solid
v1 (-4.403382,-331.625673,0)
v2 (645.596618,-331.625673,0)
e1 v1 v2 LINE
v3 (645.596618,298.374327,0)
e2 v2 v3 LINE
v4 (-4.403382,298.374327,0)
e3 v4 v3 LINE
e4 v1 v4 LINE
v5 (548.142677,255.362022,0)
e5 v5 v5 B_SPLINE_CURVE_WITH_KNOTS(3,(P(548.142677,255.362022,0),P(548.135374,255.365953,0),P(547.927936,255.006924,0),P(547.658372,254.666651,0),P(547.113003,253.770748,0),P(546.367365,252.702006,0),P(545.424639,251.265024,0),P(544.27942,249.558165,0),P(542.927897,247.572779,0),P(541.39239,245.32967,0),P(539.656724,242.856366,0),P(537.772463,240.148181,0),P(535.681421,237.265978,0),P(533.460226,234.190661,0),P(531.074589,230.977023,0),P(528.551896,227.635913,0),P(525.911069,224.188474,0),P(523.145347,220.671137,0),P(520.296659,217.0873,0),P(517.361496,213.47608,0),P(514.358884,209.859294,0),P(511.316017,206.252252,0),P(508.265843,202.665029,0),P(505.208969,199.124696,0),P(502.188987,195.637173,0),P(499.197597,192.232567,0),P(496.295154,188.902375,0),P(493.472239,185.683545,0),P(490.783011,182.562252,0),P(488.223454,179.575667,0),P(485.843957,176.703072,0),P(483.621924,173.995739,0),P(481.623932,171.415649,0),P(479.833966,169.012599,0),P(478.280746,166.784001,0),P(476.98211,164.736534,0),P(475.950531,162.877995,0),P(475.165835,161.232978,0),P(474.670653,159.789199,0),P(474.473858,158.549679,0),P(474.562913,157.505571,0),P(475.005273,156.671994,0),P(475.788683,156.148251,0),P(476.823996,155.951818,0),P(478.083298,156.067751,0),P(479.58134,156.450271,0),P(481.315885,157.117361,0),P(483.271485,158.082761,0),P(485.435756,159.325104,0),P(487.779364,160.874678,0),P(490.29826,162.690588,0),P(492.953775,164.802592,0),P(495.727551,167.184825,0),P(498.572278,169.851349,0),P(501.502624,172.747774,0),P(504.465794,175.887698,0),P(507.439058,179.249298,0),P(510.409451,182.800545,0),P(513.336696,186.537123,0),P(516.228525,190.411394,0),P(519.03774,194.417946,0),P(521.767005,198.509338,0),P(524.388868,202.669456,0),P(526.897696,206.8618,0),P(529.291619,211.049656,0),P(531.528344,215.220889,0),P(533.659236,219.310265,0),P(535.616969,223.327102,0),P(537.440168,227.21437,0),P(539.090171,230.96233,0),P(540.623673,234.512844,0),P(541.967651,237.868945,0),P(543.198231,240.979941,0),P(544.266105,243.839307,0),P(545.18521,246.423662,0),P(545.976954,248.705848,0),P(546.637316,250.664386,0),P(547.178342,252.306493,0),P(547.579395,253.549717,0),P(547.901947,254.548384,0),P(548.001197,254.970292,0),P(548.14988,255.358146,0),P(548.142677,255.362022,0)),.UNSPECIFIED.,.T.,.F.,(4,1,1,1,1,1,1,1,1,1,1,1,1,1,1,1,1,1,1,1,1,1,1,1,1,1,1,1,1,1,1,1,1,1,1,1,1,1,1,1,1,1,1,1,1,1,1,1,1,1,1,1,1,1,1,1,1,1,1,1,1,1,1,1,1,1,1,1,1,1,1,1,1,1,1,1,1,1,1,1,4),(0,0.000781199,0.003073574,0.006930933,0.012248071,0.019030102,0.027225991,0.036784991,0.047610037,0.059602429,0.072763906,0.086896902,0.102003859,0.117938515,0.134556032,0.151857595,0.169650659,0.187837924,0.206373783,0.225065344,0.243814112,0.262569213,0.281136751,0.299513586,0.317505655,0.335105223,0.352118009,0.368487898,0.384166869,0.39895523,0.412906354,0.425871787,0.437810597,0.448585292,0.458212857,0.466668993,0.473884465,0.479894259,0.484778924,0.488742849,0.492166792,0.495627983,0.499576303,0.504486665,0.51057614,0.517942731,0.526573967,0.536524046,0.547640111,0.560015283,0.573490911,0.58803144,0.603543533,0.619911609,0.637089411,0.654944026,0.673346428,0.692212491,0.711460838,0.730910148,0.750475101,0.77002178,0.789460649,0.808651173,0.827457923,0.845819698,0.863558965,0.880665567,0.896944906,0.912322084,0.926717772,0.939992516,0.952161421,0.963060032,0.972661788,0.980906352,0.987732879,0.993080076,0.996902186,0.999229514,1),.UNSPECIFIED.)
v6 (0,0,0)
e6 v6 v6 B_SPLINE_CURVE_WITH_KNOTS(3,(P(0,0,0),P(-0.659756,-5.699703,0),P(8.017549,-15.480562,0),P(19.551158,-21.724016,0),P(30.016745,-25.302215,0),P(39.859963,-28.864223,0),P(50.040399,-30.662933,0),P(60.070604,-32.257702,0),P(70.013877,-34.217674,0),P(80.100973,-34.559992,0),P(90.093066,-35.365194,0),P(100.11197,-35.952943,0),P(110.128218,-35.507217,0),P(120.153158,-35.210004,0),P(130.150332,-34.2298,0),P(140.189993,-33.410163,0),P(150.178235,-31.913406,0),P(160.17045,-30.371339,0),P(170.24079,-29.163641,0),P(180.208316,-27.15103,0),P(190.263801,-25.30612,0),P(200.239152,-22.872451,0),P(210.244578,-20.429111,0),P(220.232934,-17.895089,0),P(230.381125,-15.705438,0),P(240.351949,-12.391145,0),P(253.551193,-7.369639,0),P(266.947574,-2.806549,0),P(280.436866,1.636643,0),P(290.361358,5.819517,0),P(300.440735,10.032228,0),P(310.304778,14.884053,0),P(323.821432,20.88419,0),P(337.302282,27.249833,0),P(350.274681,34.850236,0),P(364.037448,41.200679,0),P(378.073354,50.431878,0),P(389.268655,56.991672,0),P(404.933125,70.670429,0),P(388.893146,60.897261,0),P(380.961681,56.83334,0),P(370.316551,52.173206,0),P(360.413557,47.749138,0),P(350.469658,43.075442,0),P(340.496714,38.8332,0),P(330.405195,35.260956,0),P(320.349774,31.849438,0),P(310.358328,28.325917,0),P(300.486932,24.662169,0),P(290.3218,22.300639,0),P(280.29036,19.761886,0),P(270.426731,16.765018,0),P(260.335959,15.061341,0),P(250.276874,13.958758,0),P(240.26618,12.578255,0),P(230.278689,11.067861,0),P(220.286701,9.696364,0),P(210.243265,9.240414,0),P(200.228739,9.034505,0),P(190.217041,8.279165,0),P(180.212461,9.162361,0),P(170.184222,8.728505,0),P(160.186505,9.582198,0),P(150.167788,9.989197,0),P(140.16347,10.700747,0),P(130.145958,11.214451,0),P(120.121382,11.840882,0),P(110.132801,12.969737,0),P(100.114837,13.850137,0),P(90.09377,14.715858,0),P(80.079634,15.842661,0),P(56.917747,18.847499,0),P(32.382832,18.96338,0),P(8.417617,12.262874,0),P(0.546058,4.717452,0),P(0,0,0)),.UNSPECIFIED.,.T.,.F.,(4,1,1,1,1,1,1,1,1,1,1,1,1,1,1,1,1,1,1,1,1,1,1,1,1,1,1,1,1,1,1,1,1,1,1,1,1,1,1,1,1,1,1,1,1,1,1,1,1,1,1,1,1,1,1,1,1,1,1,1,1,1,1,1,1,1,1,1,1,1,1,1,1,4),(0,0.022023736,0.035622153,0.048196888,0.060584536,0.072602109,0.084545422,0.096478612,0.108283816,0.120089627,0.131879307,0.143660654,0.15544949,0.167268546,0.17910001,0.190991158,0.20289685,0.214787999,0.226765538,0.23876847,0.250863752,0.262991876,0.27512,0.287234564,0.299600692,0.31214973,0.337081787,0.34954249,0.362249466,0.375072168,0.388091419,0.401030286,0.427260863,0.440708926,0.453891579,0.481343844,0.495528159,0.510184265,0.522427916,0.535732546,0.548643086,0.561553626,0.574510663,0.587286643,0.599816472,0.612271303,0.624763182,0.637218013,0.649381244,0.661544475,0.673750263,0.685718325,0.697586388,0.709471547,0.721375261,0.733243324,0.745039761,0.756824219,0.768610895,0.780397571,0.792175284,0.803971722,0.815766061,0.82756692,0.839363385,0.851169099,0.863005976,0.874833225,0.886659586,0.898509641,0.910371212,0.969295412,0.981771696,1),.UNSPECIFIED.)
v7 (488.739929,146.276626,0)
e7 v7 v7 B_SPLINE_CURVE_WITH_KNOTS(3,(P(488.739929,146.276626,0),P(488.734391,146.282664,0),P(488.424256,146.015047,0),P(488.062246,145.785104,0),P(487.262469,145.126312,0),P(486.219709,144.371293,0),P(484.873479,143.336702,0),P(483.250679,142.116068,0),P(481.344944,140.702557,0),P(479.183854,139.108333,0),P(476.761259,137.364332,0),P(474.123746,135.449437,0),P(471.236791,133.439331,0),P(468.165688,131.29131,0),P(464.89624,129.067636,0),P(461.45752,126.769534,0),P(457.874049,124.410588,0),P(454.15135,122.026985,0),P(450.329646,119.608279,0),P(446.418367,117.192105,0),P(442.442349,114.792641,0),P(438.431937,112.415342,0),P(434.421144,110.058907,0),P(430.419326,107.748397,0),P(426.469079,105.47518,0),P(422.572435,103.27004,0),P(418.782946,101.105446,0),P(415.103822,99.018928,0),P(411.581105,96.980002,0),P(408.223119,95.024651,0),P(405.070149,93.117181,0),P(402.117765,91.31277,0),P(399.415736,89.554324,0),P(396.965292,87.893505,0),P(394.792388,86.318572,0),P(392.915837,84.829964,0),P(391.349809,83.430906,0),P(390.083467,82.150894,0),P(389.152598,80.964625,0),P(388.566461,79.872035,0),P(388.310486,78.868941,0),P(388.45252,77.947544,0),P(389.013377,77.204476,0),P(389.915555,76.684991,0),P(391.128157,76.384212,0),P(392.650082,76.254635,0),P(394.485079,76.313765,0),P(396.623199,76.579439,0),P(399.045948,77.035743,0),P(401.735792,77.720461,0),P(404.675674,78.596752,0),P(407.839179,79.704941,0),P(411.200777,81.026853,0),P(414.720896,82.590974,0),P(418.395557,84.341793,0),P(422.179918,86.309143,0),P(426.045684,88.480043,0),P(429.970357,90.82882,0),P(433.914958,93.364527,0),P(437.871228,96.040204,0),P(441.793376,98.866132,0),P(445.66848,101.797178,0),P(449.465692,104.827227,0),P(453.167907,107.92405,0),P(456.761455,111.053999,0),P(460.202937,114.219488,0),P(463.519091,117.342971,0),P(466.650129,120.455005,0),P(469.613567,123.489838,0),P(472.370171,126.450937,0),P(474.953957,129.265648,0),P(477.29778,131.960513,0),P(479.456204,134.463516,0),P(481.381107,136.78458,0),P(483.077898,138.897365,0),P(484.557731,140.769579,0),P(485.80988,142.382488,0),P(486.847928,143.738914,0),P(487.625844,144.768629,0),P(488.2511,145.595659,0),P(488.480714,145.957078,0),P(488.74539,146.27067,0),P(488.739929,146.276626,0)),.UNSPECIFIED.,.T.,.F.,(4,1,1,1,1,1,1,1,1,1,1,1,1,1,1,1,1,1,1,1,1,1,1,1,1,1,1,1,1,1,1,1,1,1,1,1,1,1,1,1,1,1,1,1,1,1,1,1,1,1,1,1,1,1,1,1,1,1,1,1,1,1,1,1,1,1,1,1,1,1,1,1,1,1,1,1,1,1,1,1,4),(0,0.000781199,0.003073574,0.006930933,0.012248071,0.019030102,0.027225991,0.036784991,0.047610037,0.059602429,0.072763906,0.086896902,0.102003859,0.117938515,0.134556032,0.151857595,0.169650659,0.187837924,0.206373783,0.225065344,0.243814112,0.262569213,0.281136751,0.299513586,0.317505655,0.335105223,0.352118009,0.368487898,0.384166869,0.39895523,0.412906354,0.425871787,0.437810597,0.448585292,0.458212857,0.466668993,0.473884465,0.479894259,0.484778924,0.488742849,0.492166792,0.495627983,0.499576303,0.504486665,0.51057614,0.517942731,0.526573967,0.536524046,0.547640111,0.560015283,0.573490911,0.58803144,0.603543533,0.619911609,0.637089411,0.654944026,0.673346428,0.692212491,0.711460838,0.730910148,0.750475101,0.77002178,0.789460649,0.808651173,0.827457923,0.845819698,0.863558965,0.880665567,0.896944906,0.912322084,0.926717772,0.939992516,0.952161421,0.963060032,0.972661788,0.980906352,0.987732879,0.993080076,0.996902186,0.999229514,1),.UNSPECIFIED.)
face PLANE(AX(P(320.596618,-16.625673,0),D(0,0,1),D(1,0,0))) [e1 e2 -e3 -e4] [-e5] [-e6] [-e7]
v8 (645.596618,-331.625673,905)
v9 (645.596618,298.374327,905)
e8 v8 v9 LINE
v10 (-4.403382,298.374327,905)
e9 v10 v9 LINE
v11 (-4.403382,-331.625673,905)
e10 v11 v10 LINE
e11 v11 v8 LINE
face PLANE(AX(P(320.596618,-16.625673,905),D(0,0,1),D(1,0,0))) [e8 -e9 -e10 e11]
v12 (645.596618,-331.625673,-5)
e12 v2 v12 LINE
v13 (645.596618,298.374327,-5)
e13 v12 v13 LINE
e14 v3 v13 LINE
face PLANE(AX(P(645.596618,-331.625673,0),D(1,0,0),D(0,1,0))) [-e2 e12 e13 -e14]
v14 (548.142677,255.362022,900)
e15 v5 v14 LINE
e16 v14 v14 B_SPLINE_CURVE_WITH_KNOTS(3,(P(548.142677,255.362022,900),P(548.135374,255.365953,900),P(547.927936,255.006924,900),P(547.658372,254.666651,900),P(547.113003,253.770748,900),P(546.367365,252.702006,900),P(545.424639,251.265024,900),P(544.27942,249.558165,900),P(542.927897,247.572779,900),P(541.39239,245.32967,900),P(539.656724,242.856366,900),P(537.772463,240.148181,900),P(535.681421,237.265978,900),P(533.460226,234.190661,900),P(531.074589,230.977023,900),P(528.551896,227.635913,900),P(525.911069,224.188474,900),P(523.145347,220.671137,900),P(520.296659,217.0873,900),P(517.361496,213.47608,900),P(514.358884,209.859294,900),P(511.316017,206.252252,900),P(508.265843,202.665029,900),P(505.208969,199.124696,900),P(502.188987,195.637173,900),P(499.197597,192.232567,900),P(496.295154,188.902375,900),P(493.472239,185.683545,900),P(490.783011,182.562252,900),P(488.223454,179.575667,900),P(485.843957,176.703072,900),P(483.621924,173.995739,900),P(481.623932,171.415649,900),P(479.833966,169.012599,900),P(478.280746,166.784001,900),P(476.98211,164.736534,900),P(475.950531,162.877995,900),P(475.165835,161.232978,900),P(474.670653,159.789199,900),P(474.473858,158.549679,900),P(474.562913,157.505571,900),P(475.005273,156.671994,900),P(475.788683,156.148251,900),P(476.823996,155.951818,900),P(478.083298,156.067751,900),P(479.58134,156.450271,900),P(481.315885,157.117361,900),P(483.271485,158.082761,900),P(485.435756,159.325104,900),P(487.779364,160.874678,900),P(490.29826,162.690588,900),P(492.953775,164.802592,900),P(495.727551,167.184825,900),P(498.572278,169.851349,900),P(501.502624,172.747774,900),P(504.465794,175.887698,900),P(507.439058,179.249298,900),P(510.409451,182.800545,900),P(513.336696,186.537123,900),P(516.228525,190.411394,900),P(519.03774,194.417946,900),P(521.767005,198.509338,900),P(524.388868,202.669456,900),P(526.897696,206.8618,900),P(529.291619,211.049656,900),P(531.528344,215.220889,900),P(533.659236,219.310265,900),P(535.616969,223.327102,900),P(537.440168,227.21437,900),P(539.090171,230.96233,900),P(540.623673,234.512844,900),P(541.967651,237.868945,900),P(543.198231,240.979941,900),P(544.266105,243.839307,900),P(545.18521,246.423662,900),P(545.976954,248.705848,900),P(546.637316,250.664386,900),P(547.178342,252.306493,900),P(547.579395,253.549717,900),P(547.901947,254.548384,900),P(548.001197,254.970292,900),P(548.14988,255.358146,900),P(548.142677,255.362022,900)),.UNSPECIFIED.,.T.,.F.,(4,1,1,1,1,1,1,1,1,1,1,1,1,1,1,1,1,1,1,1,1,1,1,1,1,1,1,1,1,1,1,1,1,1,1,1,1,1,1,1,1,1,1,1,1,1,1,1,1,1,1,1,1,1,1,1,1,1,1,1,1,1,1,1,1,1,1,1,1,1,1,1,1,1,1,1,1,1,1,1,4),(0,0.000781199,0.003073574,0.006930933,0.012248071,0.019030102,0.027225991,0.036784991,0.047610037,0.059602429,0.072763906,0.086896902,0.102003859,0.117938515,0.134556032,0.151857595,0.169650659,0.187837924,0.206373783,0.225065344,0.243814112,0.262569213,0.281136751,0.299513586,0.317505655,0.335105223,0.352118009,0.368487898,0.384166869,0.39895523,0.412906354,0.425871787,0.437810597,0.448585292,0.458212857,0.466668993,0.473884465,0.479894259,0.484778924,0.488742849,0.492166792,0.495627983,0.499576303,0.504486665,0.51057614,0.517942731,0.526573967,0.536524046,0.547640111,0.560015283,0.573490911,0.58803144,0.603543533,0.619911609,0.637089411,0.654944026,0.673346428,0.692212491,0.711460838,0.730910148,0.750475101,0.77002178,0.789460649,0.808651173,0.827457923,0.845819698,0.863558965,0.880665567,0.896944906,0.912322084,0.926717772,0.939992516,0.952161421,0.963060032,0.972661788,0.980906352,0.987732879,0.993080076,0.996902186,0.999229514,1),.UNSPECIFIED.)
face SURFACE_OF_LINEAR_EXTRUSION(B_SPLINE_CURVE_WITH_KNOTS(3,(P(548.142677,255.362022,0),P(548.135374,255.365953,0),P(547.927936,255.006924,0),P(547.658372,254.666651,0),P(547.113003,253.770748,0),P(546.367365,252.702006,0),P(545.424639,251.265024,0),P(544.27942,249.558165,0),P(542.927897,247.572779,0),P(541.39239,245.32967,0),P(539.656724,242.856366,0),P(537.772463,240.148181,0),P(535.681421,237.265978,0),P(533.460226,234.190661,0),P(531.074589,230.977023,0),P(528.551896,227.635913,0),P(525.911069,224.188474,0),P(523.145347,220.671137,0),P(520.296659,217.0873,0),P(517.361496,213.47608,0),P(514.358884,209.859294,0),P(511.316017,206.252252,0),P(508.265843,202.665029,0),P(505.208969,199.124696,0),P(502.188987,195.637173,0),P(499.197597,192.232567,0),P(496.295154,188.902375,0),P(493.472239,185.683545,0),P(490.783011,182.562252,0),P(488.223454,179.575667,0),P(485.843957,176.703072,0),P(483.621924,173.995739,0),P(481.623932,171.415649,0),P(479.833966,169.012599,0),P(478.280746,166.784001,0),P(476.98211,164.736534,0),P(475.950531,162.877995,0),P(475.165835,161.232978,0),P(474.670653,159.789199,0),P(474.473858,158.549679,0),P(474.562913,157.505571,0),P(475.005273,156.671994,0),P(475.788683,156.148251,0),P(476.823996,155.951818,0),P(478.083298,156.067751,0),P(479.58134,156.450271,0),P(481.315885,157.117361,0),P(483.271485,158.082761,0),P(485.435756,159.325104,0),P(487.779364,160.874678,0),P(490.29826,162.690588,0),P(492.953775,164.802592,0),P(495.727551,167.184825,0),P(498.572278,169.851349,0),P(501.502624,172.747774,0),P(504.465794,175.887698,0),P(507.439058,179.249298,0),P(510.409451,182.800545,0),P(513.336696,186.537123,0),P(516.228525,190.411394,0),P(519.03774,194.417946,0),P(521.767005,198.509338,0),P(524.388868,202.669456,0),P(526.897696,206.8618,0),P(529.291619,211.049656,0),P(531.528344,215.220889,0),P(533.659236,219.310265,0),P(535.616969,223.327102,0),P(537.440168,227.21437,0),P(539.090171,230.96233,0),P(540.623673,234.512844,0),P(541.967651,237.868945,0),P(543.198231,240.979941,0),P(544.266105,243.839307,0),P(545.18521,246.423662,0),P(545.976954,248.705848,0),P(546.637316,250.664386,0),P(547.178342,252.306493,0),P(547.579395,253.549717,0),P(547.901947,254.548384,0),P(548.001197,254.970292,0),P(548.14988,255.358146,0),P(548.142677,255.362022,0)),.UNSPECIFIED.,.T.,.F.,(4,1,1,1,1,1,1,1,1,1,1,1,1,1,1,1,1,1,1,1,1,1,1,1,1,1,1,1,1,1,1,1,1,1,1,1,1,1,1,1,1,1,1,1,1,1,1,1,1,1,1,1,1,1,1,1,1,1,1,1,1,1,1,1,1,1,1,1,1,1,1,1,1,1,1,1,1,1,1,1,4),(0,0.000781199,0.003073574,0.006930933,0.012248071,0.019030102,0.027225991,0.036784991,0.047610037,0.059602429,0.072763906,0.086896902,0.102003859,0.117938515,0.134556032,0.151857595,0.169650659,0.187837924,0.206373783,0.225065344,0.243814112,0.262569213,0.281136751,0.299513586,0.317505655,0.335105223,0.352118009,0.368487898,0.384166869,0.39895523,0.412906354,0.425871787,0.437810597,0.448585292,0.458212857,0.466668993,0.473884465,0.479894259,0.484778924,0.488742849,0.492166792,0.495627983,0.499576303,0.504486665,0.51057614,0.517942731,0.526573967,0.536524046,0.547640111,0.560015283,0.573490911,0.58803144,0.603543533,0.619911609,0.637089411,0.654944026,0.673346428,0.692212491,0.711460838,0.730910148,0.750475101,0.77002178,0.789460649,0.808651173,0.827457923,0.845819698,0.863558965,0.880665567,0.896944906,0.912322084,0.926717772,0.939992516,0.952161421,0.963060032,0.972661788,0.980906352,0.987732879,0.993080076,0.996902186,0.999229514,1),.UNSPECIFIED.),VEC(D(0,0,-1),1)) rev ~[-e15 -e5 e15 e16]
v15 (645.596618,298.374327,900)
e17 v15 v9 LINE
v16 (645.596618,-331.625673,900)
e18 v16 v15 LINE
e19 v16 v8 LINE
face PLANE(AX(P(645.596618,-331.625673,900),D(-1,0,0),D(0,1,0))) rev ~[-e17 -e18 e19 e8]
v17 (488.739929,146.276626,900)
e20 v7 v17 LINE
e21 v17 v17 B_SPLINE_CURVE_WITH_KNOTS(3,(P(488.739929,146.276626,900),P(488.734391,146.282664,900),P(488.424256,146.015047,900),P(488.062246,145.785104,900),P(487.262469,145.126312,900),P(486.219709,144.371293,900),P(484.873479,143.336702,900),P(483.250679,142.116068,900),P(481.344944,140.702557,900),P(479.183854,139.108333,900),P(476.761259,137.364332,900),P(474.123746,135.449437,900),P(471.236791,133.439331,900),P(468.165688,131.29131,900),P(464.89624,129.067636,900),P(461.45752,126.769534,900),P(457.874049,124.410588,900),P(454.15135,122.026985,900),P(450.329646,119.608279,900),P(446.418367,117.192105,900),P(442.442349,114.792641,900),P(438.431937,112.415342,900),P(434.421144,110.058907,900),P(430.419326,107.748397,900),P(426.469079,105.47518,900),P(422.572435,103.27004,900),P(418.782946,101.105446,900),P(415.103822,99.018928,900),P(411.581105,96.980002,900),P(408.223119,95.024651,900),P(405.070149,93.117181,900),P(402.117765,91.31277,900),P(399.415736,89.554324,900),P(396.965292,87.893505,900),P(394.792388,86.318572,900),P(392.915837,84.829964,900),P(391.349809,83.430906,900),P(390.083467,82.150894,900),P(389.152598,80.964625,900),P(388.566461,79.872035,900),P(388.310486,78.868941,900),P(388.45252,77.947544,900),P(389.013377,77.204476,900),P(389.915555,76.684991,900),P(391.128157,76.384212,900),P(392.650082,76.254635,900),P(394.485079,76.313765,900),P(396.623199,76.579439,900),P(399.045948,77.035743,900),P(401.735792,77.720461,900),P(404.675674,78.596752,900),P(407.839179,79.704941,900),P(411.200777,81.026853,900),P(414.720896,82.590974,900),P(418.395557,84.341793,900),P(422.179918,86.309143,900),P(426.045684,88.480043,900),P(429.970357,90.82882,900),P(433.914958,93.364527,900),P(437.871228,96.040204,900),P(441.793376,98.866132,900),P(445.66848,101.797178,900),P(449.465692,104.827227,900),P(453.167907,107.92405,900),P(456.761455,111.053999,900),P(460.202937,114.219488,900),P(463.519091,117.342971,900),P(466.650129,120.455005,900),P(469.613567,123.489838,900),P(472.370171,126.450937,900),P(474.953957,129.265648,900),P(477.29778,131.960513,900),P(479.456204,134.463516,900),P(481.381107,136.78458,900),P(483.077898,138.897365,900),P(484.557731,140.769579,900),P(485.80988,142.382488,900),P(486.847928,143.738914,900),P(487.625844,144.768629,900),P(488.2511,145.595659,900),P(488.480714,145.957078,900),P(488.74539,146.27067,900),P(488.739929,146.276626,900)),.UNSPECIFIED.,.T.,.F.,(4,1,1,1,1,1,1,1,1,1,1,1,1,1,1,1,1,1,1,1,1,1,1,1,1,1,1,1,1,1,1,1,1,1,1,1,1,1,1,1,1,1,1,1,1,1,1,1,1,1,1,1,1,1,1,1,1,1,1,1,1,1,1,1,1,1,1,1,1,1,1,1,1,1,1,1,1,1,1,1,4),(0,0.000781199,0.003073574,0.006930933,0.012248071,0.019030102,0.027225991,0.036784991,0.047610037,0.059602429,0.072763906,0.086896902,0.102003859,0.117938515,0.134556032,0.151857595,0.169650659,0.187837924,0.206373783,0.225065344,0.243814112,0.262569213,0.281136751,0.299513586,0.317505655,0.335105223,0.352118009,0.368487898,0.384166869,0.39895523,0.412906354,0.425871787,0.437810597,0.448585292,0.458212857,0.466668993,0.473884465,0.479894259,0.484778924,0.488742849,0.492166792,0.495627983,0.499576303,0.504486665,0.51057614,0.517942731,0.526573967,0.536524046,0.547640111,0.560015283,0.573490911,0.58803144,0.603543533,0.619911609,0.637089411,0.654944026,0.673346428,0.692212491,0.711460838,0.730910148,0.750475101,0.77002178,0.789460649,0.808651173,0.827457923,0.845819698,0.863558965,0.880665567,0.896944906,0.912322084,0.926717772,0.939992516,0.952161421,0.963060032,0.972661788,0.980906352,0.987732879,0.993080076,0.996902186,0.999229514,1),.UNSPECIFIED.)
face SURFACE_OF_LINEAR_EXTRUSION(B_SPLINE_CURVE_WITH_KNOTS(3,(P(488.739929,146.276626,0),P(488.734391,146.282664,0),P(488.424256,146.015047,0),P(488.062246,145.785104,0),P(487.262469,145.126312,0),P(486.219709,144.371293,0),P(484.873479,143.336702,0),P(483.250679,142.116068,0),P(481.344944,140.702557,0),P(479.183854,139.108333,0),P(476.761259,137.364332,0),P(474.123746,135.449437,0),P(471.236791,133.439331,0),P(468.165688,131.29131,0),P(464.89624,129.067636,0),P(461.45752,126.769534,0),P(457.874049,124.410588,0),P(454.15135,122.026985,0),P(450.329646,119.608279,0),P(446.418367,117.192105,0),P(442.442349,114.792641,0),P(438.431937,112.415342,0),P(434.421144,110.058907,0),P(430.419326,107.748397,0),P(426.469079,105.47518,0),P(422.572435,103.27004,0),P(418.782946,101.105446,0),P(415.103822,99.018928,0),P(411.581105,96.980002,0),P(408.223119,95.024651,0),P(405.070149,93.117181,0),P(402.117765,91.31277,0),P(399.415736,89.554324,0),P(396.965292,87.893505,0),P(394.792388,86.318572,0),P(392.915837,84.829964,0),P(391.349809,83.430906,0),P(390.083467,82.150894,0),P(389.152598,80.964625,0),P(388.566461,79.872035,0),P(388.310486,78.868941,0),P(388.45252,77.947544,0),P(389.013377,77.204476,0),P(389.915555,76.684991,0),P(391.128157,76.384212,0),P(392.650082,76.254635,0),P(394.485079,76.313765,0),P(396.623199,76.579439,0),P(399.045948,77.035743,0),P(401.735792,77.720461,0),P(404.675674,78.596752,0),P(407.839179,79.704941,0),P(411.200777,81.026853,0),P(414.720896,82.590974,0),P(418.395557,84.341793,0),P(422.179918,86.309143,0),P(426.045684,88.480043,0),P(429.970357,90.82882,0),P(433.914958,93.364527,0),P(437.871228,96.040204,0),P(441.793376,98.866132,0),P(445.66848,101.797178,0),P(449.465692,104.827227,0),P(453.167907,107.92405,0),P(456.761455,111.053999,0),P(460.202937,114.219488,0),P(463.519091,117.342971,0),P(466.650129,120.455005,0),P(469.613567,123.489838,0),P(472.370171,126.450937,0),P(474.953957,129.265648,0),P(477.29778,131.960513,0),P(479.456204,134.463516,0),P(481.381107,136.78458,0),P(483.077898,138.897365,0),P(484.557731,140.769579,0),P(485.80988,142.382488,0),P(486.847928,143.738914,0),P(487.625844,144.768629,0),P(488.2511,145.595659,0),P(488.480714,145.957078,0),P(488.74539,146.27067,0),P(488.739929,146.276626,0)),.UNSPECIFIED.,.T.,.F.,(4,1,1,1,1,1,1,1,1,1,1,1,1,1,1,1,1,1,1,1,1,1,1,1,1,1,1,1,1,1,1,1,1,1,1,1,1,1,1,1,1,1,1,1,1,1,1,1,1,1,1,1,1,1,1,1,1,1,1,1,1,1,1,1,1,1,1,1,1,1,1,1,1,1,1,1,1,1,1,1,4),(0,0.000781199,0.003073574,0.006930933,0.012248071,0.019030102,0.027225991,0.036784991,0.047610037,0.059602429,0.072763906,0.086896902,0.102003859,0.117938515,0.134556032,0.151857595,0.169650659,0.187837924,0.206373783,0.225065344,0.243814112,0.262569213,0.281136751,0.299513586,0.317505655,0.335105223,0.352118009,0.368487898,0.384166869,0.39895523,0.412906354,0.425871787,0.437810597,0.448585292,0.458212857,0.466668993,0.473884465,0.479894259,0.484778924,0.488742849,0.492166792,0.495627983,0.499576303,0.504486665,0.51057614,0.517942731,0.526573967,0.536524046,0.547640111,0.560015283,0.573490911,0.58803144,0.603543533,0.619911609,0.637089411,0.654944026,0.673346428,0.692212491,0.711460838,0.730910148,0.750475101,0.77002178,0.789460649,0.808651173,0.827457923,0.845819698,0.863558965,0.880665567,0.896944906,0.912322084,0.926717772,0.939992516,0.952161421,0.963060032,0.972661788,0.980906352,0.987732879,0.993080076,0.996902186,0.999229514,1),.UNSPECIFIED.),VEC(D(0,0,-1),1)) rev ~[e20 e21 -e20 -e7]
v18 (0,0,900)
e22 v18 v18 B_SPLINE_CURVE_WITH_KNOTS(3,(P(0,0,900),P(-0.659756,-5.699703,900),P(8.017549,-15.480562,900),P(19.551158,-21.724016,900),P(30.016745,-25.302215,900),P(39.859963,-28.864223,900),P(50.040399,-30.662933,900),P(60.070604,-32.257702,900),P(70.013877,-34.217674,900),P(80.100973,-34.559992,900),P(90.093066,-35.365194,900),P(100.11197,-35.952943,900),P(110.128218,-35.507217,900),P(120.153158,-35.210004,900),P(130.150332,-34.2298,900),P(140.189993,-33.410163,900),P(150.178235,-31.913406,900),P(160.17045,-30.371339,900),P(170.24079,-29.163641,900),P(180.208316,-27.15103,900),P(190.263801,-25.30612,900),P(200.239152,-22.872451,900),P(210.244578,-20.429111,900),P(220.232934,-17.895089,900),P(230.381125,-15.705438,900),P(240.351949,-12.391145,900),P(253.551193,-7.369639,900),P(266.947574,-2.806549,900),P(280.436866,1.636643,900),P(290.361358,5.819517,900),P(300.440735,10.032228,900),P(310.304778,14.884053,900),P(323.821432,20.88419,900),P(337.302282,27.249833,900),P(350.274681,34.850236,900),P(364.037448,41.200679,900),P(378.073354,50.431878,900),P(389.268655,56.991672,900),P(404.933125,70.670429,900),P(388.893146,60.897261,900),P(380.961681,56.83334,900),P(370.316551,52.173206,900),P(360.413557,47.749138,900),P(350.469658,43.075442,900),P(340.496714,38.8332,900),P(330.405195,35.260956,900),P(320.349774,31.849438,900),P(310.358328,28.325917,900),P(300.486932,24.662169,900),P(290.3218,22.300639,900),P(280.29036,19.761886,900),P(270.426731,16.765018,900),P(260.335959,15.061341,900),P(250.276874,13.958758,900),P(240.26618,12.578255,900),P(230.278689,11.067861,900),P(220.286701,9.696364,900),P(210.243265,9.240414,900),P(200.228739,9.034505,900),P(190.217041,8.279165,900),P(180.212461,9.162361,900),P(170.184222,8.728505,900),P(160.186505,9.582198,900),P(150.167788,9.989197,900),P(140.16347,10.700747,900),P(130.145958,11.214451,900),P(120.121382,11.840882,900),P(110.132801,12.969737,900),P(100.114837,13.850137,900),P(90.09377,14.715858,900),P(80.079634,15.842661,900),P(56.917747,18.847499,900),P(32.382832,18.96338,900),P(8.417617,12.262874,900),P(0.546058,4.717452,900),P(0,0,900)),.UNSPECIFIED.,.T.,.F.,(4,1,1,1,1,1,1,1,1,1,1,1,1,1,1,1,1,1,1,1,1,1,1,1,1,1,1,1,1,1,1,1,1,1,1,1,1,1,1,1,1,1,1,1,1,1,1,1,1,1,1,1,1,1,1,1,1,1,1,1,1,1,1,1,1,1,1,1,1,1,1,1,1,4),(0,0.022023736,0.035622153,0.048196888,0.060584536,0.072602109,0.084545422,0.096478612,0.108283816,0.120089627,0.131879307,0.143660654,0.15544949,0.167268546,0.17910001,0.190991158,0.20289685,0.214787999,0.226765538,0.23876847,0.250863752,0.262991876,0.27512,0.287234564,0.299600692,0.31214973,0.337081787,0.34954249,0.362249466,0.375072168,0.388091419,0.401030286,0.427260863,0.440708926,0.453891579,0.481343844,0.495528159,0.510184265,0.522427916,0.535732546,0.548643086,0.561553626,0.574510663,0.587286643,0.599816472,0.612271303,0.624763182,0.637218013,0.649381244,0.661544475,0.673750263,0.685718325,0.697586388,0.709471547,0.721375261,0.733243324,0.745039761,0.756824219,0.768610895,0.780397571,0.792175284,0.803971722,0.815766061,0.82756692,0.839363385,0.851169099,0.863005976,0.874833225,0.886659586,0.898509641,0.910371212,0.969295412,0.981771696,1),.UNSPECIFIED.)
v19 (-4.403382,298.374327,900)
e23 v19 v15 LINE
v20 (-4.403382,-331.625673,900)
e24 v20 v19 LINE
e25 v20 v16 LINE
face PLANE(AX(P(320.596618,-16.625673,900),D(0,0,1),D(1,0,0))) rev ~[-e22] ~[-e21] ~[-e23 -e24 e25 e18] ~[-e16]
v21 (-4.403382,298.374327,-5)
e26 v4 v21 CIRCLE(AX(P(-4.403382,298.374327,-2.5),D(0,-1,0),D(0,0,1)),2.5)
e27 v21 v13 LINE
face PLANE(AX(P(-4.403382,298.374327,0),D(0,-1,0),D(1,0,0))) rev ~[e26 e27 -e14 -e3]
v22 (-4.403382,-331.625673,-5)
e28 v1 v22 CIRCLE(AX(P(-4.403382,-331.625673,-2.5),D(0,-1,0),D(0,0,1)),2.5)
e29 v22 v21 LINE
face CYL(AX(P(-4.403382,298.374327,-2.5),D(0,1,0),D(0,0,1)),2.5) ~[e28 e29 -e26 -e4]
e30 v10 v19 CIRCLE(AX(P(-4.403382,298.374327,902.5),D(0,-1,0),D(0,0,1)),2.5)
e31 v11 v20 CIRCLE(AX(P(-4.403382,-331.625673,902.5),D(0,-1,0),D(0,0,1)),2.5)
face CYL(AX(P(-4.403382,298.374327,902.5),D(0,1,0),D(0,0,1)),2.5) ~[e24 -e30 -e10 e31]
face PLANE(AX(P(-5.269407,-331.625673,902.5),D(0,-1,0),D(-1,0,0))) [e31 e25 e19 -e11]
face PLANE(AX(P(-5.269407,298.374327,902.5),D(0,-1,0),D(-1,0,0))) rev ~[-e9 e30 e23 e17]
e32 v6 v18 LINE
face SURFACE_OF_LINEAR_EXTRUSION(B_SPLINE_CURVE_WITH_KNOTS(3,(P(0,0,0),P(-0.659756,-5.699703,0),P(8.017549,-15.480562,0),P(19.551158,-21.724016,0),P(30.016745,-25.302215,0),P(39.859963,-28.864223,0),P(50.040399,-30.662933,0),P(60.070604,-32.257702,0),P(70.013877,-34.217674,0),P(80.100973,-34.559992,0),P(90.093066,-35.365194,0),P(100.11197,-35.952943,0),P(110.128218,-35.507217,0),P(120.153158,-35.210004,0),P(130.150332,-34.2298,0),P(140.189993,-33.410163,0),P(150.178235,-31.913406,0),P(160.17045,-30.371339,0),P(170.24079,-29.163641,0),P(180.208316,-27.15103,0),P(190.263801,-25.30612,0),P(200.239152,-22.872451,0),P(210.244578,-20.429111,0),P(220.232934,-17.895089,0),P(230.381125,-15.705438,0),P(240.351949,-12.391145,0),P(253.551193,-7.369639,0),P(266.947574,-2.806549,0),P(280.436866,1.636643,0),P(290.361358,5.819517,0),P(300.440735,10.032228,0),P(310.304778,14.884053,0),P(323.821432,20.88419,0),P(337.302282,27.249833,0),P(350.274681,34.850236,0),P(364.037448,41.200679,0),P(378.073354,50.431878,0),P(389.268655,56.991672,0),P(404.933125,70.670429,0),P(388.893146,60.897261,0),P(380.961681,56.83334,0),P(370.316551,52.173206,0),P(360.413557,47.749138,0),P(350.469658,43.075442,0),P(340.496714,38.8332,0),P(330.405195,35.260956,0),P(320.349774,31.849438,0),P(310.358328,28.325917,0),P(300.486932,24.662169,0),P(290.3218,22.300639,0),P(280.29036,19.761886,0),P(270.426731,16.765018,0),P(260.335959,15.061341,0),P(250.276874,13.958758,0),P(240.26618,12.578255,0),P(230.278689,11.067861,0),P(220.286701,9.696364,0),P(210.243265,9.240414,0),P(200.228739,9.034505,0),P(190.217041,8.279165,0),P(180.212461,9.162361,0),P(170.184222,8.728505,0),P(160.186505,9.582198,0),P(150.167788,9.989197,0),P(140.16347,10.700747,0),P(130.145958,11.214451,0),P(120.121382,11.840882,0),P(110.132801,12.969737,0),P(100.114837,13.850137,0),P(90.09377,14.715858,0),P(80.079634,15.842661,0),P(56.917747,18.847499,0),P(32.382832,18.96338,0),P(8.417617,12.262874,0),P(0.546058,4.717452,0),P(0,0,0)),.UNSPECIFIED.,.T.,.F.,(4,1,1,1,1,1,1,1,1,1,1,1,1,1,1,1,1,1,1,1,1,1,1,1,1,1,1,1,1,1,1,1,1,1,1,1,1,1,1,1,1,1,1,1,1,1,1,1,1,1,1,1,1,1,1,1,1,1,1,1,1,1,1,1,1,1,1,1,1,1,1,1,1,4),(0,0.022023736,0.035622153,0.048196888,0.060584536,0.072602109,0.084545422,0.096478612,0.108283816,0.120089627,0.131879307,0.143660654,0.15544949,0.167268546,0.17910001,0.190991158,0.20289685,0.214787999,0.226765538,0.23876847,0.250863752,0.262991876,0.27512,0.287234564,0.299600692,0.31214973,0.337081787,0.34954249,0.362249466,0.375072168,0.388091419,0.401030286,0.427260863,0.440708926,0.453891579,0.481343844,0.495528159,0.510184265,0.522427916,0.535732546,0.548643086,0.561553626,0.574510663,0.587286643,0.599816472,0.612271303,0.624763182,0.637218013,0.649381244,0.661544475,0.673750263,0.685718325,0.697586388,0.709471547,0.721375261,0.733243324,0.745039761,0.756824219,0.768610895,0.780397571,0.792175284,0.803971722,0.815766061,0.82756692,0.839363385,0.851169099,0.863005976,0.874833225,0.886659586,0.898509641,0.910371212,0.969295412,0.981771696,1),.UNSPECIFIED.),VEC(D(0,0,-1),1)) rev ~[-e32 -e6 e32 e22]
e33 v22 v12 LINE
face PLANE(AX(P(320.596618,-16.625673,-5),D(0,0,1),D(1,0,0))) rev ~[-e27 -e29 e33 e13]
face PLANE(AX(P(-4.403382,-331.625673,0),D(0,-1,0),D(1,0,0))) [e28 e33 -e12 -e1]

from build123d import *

# Parameters (mm, degrees)
BOSS_EXTRUDE1_DEPTH   = 900
BOSS_EXTRUDE1_2_DEPTH = 900
BOSS_EXTRUDE1_3_DEPTH = 900
SKETCH3_W             = 650
SKETCH3_H             = 630
BOSS_EXTRUDE2_DEPTH   = 5
SKETCH5_W             = 650
SKETCH5_H             = 630
BOSS_EXTRUDE3_DEPTH   = 5
BOSS_EXTRUDE4_DEPTH   = 630


with BuildPart() as part:
    # Sketch2 → Boss-Extrude1 (new body)
    with BuildSketch(Plane.XY):
        with BuildLine():
            add(Edge.make_bspline(
                [(0, 0), (-0.65975565, -5.699703464), (8.017548516, -15.480562025), (19.551157506, -21.724015646), (30.016745353, -25.302215165), (39.859962541, -28.8642232), (50.040399275, -30.662933418), (60.070603806, -32.257702331), (70.013877162, -34.217674322), (80.100972933, -34.55999195), (90.093066457, -35.36519438), (100.111969814, -35.952943269), (110.128217778, -35.507216678), (120.153157744, -35.210003546), (130.150331683, -34.229800116), (140.189993261, -33.410162922), (150.178235204, -31.913406007), (160.170449627, -30.371338734), (170.240789754, -29.163640841), (180.208316099, -27.151030087), (190.263801281, -25.306120223), (200.239152099, -22.872450662), (210.244577583, -20.429111012), (220.232934245, -17.895088966), (230.381125348, -15.705438437), (240.351948949, -12.391144832), (253.551193017, -7.369638816), (266.947574476, -2.806549313), (280.436865809, 1.636643436), (290.361357742, 5.819516769), (300.440735094, 10.032227759), (310.304777653, 14.884053202), (323.821431636, 20.884190166), (337.30228202, 27.249833417), (350.274680503, 34.850235797), (364.037447664, 41.200679435), (378.073354269, 50.431878374), (389.268655411, 56.991671546), (404.933124868, 70.670428585), (388.893146181, 60.897261379), (380.961681237, 56.833339948), (370.316551331, 52.173205743), (360.413556578, 47.749137904), (350.469658047, 43.075442492), (340.496714174, 38.833200032), (330.405194537, 35.260956145), (320.349773519, 31.849438488), (310.358327921, 28.32591748), (300.486931551, 24.662169398), (290.321799777, 22.300639283), (280.290360105, 19.76188557), (270.426731207, 16.765017679), (260.335958512, 15.061341224), (250.276874186, 13.958758108), (240.266180313, 12.578254982), (230.278688892, 11.06786106), (220.28670052, 9.696364143), (210.243264635, 9.240413966), (200.228739037, 9.034505305), (190.217040672, 8.279165066), (180.212460889, 9.162360851), (170.184221628, 8.728504773), (160.186505008, 9.582197967), (150.167787888, 9.989196896), (140.163470123, 10.700746944), (130.145958281, 11.214450998), (120.121382338, 11.840881885), (110.132801048, 12.969737489), (100.114836916, 13.850136605), (90.093770057, 14.715857774), (80.079633724, 15.842660607), (56.917746978, 18.847498868), (32.382831952, 18.963380484), (8.41761673, 12.262874152), (0.546057517, 4.717452477), (0, 0)],
                knots=[0, 0, 0, 0, 0.022023736, 0.035622153, 0.048196888, 0.060584536, 0.072602109, 0.084545422, 0.096478612, 0.108283816, 0.120089627, 0.131879307, 0.143660654, 0.15544949, 0.167268546, 0.17910001, 0.190991158, 0.20289685, 0.214787999, 0.226765538, 0.23876847, 0.250863752, 0.262991876, 0.27512, 0.287234564, 0.299600692, 0.31214973, 0.337081787, 0.34954249, 0.362249466, 0.375072168, 0.388091419, 0.401030286, 0.427260863, 0.440708926, 0.453891579, 0.481343844, 0.495528159, 0.510184265, 0.522427916, 0.535732546, 0.548643086, 0.561553626, 0.574510663, 0.587286643, 0.599816472, 0.612271303, 0.624763182, 0.637218013, 0.649381244, 0.661544475, 0.673750263, 0.685718325, 0.697586388, 0.709471547, 0.721375261, 0.733243324, 0.745039761, 0.756824219, 0.768610895, 0.780397571, 0.792175284, 0.803971722, 0.815766061, 0.82756692, 0.839363385, 0.851169099, 0.863005976, 0.874833225, 0.886659586, 0.898509641, 0.910371212, 0.969295412, 0.981771696, 1, 1, 1, 1], degree=3))
        make_face()
    extrude(amount=BOSS_EXTRUDE1_DEPTH)



with BuildPart() as body_2:
    # Sketch2 → Boss-Extrude1 2 (new body)
    with BuildSketch(Plane.XY):
        with BuildLine():
            add(Edge.make_bspline(
                [(488.73992863, 146.276625829), (488.734390863, 146.282664356), (488.424255517, 146.015046997), (488.06224571, 145.78510435), (487.262468982, 145.126312202), (486.219708703, 144.371292999), (484.873478649, 143.336701677), (483.250678892, 142.116067573), (481.344943871, 140.702556836), (479.183854282, 139.108333078), (476.761259361, 137.364331889), (474.123745832, 135.449437464), (471.236790602, 133.439330858), (468.165688429, 131.291310186), (464.896239769, 129.067635846), (461.457519682, 126.769533617), (457.874048726, 124.410588123), (454.151349507, 122.026984888), (450.329646269, 119.608278587), (446.41836705, 117.19210493), (442.442349173, 114.792641259), (438.43193703, 112.415341988), (434.42114363, 110.058907294), (430.419325782, 107.74839744), (426.469079038, 105.475179612), (422.572434597, 103.270040027), (418.782946314, 101.105445668), (415.103822048, 99.01892845), (411.581105321, 96.980001912), (408.223119368, 95.024650916), (405.070149132, 93.117181313), (402.117764879, 91.312769814), (399.415735867, 89.554324386), (396.965291652, 87.893504979), (394.792388291, 86.318571947), (392.915837215, 84.829964237), (391.349809227, 83.430905822), (390.083467317, 82.150893966), (389.152598068, 80.964624913), (388.566460536, 79.872034746), (388.31048608, 78.86894122), (388.452520239, 77.947544055), (389.013376817, 77.204475769), (389.915554573, 76.684991476), (391.128157446, 76.384212118), (392.650081725, 76.254634507), (394.48507873, 76.313765499), (396.623198675, 76.579439281), (399.045948072, 77.035742523), (401.735792151, 77.720460618), (404.675674285, 78.596752435), (407.839178956, 79.704940552), (411.200777121, 81.026852514), (414.720896472, 82.590974299), (418.395557374, 84.341793332), (422.179917585, 86.309143039), (426.045683707, 88.480043342), (429.970357242, 90.828820323), (433.914957703, 93.364526939), (437.871228384, 96.040204149), (441.793376071, 98.866131635), (445.668479549, 101.797178284), (449.465692449, 104.827226536), (453.167907327, 107.924049831), (456.76145535, 111.053999458), (460.202936902, 114.219487851), (463.519091154, 117.342970547), (466.650128692, 120.455005022), (469.613566921, 123.489837804), (472.370170636, 126.450937081), (474.953957291, 129.265647603), (477.297780382, 131.960513478), (479.456204478, 134.463515761), (481.381106749, 136.784579704), (483.077897662, 138.897364919), (484.557730654, 140.769579134), (485.809879979, 142.38248786), (486.847928071, 143.738913606), (487.625844434, 144.768628828), (488.251100258, 145.595659419), (488.480713959, 145.957078055), (488.74539046, 146.270670107), (488.73992863, 146.276625829)],
                knots=[0, 0, 0, 0, 0.000781199, 0.003073574, 0.006930933, 0.012248071, 0.019030102, 0.027225991, 0.036784991, 0.047610037, 0.059602429, 0.072763906, 0.086896902, 0.102003859, 0.117938515, 0.134556032, 0.151857595, 0.169650659, 0.187837924, 0.206373783, 0.225065344, 0.243814112, 0.262569213, 0.281136751, 0.299513586, 0.317505655, 0.335105223, 0.352118009, 0.368487898, 0.384166869, 0.39895523, 0.412906354, 0.425871787, 0.437810597, 0.448585292, 0.458212857, 0.466668993, 0.473884465, 0.479894259, 0.484778924, 0.488742849, 0.492166792, 0.495627983, 0.499576303, 0.504486665, 0.51057614, 0.517942731, 0.526573967, 0.536524046, 0.547640111, 0.560015283, 0.573490911, 0.58803144, 0.603543533, 0.619911609, 0.637089411, 0.654944026, 0.673346428, 0.692212491, 0.711460838, 0.730910148, 0.750475101, 0.77002178, 0.789460649, 0.808651173, 0.827457923, 0.845819698, 0.863558965, 0.880665567, 0.896944906, 0.912322084, 0.926717772, 0.939992516, 0.952161421, 0.963060032, 0.972661788, 0.980906352, 0.987732879, 0.993080076, 0.996902186, 0.999229514, 1, 1, 1, 1], degree=3))
        make_face()
    extrude(amount=BOSS_EXTRUDE1_2_DEPTH)


with BuildPart() as body_3:
    # Sketch2 → Boss-Extrude1 3 (new body)
    with BuildSketch(Plane.XY):
        with BuildLine():
            add(Edge.make_bspline(
                [(548.142677429, 255.362022493), (548.135374227, 255.365952606), (547.927936153, 255.006923964), (547.658371583, 254.666651265), (547.113002911, 253.770748213), (546.367364831, 252.702005657), (545.424638558, 251.265023805), (544.27941979, 249.558165284), (542.927897021, 247.572779047), (541.392389605, 245.329670238), (539.656724271, 242.856366084), (537.77246287, 240.148181213), (535.681420522, 237.265978202), (533.460225952, 234.1906606), (531.074588655, 230.97702341), (528.551895931, 227.635912658), (525.911068883, 224.188473742), (523.145346923, 220.671136821), (520.29665909, 217.087300279), (517.361495783, 213.476080086), (514.358883712, 209.859293663), (511.316016626, 206.252251869), (508.265842752, 202.665029322), (505.208968651, 199.124696426), (502.1889872, 195.637173296), (499.197596623, 192.232566763), (496.295154414, 188.902374923), (493.472239146, 185.683544867), (490.783011296, 182.562252326), (488.223454385, 179.575667492), (485.843956575, 176.703071592), (483.621924068, 173.995738505), (481.623931594, 171.41564926), (479.833965661, 169.012598811), (478.280745879, 166.784000715), (476.982109533, 164.736533764), (475.9505309, 162.877995089), (475.165835333, 161.232977644), (474.670653437, 159.789198906), (474.473857946, 158.549678558), (474.562913108, 157.505571006), (475.005273255, 156.671993733), (475.788683212, 156.148250847), (476.823995566, 155.951818146), (478.083297743, 156.067751239), (479.581340455, 156.450270824), (481.315884792, 157.117361276), (483.27148496, 158.082761094), (485.435756441, 159.325104089), (487.779363945, 160.874677932), (490.298259918, 162.690587977), (492.953775055, 164.80259248), (495.727550679, 167.184824621), (498.572278285, 169.851349424), (501.502624239, 172.747773867), (504.46579375, 175.887697633), (507.439057803, 179.249297912), (510.409450838, 182.800544998), (513.336696107, 186.537123271), (516.228525151, 190.411393589), (519.037740226, 194.417946242), (521.767005491, 198.509337516), (524.388867963, 202.669455575), (526.897696092, 206.861800297), (529.291618766, 211.049656155), (531.528344155, 215.220888935), (533.659235885, 219.310264722), (535.616969063, 223.327101968), (537.440168258, 227.214370322), (539.090171449, 230.962330487), (540.623673351, 234.512844247), (541.967651222, 237.868945421), (543.198230675, 240.979940777), (544.266104832, 243.839306635), (545.18521028, 246.423662369), (545.97695415, 248.705848341), (546.637316417, 250.664385968), (547.178342468, 252.306492823), (547.579395063, 253.549717004), (547.901947032, 254.548383811), (548.001197383, 254.970292394), (548.149880485, 255.358146272), (548.142677429, 255.362022493)],
                knots=[0, 0, 0, 0, 0.000781199, 0.003073574, 0.006930933, 0.012248071, 0.019030102, 0.027225991, 0.036784991, 0.047610037, 0.059602429, 0.072763906, 0.086896902, 0.102003859, 0.117938515, 0.134556032, 0.151857595, 0.169650659, 0.187837924, 0.206373783, 0.225065344, 0.243814112, 0.262569213, 0.281136751, 0.299513586, 0.317505655, 0.335105223, 0.352118009, 0.368487898, 0.384166869, 0.39895523, 0.412906354, 0.425871787, 0.437810597, 0.448585292, 0.458212857, 0.466668993, 0.473884465, 0.479894259, 0.484778924, 0.488742849, 0.492166792, 0.495627983, 0.499576303, 0.504486665, 0.51057614, 0.517942731, 0.526573967, 0.536524046, 0.547640111, 0.560015283, 0.573490911, 0.58803144, 0.603543533, 0.619911609, 0.637089411, 0.654944026, 0.673346428, 0.692212491, 0.711460838, 0.730910148, 0.750475101, 0.77002178, 0.789460649, 0.808651173, 0.827457923, 0.845819698, 0.863558965, 0.880665567, 0.896944906, 0.912322084, 0.926717772, 0.939992516, 0.952161421, 0.963060032, 0.972661788, 0.980906352, 0.987732879, 0.993080076, 0.996902186, 0.999229514, 1, 1, 1, 1], degree=3))
        make_face()
    extrude(amount=BOSS_EXTRUDE1_3_DEPTH)


with BuildPart() as part_1:
    add(part.part)

    add(body_2.part)  # Boss-Extrude2 merges body 2

    add(body_3.part)  # Boss-Extrude2 merges body 3
    # Sketch3 → Boss-Extrude2 (add)
    with BuildSketch(Plane.XY.offset(900)):
        with Locations((320.596618382, -16.625673365)):
            Rectangle(SKETCH3_W, SKETCH3_H)
    extrude(amount=BOSS_EXTRUDE2_DEPTH)

    # Sketch5 → Boss-Extrude3 (add)
    with BuildSketch(Plane.XY):
        with Locations((320.596618382, -16.625673365)):
            Rectangle(SKETCH5_W, SKETCH5_H)
    extrude(amount=-BOSS_EXTRUDE3_DEPTH)

    # Sketch8 → Boss-Extrude4 (add)
    with BuildSketch(Plane(origin=(0, 298.374326635, 0), x_dir=(1, 0, 0), z_dir=(0, 1, 0))):
        with BuildLine():
            Line((-4.403381618, -900), (-4.403381618, -905))
            ThreePointArc((-4.403381618, -905), (-6.903381618, -902.5), (-4.403381618, -900))
        make_face()
        with BuildLine():
            Line((-4.403381618, 5), (-4.403381618, 0))
            ThreePointArc((-4.403381618, 0), (-6.903381618, 2.5), (-4.403381618, 5))
        make_face()
    extrude(amount=-BOSS_EXTRUDE4_DEPTH)


solid = part_1.part
